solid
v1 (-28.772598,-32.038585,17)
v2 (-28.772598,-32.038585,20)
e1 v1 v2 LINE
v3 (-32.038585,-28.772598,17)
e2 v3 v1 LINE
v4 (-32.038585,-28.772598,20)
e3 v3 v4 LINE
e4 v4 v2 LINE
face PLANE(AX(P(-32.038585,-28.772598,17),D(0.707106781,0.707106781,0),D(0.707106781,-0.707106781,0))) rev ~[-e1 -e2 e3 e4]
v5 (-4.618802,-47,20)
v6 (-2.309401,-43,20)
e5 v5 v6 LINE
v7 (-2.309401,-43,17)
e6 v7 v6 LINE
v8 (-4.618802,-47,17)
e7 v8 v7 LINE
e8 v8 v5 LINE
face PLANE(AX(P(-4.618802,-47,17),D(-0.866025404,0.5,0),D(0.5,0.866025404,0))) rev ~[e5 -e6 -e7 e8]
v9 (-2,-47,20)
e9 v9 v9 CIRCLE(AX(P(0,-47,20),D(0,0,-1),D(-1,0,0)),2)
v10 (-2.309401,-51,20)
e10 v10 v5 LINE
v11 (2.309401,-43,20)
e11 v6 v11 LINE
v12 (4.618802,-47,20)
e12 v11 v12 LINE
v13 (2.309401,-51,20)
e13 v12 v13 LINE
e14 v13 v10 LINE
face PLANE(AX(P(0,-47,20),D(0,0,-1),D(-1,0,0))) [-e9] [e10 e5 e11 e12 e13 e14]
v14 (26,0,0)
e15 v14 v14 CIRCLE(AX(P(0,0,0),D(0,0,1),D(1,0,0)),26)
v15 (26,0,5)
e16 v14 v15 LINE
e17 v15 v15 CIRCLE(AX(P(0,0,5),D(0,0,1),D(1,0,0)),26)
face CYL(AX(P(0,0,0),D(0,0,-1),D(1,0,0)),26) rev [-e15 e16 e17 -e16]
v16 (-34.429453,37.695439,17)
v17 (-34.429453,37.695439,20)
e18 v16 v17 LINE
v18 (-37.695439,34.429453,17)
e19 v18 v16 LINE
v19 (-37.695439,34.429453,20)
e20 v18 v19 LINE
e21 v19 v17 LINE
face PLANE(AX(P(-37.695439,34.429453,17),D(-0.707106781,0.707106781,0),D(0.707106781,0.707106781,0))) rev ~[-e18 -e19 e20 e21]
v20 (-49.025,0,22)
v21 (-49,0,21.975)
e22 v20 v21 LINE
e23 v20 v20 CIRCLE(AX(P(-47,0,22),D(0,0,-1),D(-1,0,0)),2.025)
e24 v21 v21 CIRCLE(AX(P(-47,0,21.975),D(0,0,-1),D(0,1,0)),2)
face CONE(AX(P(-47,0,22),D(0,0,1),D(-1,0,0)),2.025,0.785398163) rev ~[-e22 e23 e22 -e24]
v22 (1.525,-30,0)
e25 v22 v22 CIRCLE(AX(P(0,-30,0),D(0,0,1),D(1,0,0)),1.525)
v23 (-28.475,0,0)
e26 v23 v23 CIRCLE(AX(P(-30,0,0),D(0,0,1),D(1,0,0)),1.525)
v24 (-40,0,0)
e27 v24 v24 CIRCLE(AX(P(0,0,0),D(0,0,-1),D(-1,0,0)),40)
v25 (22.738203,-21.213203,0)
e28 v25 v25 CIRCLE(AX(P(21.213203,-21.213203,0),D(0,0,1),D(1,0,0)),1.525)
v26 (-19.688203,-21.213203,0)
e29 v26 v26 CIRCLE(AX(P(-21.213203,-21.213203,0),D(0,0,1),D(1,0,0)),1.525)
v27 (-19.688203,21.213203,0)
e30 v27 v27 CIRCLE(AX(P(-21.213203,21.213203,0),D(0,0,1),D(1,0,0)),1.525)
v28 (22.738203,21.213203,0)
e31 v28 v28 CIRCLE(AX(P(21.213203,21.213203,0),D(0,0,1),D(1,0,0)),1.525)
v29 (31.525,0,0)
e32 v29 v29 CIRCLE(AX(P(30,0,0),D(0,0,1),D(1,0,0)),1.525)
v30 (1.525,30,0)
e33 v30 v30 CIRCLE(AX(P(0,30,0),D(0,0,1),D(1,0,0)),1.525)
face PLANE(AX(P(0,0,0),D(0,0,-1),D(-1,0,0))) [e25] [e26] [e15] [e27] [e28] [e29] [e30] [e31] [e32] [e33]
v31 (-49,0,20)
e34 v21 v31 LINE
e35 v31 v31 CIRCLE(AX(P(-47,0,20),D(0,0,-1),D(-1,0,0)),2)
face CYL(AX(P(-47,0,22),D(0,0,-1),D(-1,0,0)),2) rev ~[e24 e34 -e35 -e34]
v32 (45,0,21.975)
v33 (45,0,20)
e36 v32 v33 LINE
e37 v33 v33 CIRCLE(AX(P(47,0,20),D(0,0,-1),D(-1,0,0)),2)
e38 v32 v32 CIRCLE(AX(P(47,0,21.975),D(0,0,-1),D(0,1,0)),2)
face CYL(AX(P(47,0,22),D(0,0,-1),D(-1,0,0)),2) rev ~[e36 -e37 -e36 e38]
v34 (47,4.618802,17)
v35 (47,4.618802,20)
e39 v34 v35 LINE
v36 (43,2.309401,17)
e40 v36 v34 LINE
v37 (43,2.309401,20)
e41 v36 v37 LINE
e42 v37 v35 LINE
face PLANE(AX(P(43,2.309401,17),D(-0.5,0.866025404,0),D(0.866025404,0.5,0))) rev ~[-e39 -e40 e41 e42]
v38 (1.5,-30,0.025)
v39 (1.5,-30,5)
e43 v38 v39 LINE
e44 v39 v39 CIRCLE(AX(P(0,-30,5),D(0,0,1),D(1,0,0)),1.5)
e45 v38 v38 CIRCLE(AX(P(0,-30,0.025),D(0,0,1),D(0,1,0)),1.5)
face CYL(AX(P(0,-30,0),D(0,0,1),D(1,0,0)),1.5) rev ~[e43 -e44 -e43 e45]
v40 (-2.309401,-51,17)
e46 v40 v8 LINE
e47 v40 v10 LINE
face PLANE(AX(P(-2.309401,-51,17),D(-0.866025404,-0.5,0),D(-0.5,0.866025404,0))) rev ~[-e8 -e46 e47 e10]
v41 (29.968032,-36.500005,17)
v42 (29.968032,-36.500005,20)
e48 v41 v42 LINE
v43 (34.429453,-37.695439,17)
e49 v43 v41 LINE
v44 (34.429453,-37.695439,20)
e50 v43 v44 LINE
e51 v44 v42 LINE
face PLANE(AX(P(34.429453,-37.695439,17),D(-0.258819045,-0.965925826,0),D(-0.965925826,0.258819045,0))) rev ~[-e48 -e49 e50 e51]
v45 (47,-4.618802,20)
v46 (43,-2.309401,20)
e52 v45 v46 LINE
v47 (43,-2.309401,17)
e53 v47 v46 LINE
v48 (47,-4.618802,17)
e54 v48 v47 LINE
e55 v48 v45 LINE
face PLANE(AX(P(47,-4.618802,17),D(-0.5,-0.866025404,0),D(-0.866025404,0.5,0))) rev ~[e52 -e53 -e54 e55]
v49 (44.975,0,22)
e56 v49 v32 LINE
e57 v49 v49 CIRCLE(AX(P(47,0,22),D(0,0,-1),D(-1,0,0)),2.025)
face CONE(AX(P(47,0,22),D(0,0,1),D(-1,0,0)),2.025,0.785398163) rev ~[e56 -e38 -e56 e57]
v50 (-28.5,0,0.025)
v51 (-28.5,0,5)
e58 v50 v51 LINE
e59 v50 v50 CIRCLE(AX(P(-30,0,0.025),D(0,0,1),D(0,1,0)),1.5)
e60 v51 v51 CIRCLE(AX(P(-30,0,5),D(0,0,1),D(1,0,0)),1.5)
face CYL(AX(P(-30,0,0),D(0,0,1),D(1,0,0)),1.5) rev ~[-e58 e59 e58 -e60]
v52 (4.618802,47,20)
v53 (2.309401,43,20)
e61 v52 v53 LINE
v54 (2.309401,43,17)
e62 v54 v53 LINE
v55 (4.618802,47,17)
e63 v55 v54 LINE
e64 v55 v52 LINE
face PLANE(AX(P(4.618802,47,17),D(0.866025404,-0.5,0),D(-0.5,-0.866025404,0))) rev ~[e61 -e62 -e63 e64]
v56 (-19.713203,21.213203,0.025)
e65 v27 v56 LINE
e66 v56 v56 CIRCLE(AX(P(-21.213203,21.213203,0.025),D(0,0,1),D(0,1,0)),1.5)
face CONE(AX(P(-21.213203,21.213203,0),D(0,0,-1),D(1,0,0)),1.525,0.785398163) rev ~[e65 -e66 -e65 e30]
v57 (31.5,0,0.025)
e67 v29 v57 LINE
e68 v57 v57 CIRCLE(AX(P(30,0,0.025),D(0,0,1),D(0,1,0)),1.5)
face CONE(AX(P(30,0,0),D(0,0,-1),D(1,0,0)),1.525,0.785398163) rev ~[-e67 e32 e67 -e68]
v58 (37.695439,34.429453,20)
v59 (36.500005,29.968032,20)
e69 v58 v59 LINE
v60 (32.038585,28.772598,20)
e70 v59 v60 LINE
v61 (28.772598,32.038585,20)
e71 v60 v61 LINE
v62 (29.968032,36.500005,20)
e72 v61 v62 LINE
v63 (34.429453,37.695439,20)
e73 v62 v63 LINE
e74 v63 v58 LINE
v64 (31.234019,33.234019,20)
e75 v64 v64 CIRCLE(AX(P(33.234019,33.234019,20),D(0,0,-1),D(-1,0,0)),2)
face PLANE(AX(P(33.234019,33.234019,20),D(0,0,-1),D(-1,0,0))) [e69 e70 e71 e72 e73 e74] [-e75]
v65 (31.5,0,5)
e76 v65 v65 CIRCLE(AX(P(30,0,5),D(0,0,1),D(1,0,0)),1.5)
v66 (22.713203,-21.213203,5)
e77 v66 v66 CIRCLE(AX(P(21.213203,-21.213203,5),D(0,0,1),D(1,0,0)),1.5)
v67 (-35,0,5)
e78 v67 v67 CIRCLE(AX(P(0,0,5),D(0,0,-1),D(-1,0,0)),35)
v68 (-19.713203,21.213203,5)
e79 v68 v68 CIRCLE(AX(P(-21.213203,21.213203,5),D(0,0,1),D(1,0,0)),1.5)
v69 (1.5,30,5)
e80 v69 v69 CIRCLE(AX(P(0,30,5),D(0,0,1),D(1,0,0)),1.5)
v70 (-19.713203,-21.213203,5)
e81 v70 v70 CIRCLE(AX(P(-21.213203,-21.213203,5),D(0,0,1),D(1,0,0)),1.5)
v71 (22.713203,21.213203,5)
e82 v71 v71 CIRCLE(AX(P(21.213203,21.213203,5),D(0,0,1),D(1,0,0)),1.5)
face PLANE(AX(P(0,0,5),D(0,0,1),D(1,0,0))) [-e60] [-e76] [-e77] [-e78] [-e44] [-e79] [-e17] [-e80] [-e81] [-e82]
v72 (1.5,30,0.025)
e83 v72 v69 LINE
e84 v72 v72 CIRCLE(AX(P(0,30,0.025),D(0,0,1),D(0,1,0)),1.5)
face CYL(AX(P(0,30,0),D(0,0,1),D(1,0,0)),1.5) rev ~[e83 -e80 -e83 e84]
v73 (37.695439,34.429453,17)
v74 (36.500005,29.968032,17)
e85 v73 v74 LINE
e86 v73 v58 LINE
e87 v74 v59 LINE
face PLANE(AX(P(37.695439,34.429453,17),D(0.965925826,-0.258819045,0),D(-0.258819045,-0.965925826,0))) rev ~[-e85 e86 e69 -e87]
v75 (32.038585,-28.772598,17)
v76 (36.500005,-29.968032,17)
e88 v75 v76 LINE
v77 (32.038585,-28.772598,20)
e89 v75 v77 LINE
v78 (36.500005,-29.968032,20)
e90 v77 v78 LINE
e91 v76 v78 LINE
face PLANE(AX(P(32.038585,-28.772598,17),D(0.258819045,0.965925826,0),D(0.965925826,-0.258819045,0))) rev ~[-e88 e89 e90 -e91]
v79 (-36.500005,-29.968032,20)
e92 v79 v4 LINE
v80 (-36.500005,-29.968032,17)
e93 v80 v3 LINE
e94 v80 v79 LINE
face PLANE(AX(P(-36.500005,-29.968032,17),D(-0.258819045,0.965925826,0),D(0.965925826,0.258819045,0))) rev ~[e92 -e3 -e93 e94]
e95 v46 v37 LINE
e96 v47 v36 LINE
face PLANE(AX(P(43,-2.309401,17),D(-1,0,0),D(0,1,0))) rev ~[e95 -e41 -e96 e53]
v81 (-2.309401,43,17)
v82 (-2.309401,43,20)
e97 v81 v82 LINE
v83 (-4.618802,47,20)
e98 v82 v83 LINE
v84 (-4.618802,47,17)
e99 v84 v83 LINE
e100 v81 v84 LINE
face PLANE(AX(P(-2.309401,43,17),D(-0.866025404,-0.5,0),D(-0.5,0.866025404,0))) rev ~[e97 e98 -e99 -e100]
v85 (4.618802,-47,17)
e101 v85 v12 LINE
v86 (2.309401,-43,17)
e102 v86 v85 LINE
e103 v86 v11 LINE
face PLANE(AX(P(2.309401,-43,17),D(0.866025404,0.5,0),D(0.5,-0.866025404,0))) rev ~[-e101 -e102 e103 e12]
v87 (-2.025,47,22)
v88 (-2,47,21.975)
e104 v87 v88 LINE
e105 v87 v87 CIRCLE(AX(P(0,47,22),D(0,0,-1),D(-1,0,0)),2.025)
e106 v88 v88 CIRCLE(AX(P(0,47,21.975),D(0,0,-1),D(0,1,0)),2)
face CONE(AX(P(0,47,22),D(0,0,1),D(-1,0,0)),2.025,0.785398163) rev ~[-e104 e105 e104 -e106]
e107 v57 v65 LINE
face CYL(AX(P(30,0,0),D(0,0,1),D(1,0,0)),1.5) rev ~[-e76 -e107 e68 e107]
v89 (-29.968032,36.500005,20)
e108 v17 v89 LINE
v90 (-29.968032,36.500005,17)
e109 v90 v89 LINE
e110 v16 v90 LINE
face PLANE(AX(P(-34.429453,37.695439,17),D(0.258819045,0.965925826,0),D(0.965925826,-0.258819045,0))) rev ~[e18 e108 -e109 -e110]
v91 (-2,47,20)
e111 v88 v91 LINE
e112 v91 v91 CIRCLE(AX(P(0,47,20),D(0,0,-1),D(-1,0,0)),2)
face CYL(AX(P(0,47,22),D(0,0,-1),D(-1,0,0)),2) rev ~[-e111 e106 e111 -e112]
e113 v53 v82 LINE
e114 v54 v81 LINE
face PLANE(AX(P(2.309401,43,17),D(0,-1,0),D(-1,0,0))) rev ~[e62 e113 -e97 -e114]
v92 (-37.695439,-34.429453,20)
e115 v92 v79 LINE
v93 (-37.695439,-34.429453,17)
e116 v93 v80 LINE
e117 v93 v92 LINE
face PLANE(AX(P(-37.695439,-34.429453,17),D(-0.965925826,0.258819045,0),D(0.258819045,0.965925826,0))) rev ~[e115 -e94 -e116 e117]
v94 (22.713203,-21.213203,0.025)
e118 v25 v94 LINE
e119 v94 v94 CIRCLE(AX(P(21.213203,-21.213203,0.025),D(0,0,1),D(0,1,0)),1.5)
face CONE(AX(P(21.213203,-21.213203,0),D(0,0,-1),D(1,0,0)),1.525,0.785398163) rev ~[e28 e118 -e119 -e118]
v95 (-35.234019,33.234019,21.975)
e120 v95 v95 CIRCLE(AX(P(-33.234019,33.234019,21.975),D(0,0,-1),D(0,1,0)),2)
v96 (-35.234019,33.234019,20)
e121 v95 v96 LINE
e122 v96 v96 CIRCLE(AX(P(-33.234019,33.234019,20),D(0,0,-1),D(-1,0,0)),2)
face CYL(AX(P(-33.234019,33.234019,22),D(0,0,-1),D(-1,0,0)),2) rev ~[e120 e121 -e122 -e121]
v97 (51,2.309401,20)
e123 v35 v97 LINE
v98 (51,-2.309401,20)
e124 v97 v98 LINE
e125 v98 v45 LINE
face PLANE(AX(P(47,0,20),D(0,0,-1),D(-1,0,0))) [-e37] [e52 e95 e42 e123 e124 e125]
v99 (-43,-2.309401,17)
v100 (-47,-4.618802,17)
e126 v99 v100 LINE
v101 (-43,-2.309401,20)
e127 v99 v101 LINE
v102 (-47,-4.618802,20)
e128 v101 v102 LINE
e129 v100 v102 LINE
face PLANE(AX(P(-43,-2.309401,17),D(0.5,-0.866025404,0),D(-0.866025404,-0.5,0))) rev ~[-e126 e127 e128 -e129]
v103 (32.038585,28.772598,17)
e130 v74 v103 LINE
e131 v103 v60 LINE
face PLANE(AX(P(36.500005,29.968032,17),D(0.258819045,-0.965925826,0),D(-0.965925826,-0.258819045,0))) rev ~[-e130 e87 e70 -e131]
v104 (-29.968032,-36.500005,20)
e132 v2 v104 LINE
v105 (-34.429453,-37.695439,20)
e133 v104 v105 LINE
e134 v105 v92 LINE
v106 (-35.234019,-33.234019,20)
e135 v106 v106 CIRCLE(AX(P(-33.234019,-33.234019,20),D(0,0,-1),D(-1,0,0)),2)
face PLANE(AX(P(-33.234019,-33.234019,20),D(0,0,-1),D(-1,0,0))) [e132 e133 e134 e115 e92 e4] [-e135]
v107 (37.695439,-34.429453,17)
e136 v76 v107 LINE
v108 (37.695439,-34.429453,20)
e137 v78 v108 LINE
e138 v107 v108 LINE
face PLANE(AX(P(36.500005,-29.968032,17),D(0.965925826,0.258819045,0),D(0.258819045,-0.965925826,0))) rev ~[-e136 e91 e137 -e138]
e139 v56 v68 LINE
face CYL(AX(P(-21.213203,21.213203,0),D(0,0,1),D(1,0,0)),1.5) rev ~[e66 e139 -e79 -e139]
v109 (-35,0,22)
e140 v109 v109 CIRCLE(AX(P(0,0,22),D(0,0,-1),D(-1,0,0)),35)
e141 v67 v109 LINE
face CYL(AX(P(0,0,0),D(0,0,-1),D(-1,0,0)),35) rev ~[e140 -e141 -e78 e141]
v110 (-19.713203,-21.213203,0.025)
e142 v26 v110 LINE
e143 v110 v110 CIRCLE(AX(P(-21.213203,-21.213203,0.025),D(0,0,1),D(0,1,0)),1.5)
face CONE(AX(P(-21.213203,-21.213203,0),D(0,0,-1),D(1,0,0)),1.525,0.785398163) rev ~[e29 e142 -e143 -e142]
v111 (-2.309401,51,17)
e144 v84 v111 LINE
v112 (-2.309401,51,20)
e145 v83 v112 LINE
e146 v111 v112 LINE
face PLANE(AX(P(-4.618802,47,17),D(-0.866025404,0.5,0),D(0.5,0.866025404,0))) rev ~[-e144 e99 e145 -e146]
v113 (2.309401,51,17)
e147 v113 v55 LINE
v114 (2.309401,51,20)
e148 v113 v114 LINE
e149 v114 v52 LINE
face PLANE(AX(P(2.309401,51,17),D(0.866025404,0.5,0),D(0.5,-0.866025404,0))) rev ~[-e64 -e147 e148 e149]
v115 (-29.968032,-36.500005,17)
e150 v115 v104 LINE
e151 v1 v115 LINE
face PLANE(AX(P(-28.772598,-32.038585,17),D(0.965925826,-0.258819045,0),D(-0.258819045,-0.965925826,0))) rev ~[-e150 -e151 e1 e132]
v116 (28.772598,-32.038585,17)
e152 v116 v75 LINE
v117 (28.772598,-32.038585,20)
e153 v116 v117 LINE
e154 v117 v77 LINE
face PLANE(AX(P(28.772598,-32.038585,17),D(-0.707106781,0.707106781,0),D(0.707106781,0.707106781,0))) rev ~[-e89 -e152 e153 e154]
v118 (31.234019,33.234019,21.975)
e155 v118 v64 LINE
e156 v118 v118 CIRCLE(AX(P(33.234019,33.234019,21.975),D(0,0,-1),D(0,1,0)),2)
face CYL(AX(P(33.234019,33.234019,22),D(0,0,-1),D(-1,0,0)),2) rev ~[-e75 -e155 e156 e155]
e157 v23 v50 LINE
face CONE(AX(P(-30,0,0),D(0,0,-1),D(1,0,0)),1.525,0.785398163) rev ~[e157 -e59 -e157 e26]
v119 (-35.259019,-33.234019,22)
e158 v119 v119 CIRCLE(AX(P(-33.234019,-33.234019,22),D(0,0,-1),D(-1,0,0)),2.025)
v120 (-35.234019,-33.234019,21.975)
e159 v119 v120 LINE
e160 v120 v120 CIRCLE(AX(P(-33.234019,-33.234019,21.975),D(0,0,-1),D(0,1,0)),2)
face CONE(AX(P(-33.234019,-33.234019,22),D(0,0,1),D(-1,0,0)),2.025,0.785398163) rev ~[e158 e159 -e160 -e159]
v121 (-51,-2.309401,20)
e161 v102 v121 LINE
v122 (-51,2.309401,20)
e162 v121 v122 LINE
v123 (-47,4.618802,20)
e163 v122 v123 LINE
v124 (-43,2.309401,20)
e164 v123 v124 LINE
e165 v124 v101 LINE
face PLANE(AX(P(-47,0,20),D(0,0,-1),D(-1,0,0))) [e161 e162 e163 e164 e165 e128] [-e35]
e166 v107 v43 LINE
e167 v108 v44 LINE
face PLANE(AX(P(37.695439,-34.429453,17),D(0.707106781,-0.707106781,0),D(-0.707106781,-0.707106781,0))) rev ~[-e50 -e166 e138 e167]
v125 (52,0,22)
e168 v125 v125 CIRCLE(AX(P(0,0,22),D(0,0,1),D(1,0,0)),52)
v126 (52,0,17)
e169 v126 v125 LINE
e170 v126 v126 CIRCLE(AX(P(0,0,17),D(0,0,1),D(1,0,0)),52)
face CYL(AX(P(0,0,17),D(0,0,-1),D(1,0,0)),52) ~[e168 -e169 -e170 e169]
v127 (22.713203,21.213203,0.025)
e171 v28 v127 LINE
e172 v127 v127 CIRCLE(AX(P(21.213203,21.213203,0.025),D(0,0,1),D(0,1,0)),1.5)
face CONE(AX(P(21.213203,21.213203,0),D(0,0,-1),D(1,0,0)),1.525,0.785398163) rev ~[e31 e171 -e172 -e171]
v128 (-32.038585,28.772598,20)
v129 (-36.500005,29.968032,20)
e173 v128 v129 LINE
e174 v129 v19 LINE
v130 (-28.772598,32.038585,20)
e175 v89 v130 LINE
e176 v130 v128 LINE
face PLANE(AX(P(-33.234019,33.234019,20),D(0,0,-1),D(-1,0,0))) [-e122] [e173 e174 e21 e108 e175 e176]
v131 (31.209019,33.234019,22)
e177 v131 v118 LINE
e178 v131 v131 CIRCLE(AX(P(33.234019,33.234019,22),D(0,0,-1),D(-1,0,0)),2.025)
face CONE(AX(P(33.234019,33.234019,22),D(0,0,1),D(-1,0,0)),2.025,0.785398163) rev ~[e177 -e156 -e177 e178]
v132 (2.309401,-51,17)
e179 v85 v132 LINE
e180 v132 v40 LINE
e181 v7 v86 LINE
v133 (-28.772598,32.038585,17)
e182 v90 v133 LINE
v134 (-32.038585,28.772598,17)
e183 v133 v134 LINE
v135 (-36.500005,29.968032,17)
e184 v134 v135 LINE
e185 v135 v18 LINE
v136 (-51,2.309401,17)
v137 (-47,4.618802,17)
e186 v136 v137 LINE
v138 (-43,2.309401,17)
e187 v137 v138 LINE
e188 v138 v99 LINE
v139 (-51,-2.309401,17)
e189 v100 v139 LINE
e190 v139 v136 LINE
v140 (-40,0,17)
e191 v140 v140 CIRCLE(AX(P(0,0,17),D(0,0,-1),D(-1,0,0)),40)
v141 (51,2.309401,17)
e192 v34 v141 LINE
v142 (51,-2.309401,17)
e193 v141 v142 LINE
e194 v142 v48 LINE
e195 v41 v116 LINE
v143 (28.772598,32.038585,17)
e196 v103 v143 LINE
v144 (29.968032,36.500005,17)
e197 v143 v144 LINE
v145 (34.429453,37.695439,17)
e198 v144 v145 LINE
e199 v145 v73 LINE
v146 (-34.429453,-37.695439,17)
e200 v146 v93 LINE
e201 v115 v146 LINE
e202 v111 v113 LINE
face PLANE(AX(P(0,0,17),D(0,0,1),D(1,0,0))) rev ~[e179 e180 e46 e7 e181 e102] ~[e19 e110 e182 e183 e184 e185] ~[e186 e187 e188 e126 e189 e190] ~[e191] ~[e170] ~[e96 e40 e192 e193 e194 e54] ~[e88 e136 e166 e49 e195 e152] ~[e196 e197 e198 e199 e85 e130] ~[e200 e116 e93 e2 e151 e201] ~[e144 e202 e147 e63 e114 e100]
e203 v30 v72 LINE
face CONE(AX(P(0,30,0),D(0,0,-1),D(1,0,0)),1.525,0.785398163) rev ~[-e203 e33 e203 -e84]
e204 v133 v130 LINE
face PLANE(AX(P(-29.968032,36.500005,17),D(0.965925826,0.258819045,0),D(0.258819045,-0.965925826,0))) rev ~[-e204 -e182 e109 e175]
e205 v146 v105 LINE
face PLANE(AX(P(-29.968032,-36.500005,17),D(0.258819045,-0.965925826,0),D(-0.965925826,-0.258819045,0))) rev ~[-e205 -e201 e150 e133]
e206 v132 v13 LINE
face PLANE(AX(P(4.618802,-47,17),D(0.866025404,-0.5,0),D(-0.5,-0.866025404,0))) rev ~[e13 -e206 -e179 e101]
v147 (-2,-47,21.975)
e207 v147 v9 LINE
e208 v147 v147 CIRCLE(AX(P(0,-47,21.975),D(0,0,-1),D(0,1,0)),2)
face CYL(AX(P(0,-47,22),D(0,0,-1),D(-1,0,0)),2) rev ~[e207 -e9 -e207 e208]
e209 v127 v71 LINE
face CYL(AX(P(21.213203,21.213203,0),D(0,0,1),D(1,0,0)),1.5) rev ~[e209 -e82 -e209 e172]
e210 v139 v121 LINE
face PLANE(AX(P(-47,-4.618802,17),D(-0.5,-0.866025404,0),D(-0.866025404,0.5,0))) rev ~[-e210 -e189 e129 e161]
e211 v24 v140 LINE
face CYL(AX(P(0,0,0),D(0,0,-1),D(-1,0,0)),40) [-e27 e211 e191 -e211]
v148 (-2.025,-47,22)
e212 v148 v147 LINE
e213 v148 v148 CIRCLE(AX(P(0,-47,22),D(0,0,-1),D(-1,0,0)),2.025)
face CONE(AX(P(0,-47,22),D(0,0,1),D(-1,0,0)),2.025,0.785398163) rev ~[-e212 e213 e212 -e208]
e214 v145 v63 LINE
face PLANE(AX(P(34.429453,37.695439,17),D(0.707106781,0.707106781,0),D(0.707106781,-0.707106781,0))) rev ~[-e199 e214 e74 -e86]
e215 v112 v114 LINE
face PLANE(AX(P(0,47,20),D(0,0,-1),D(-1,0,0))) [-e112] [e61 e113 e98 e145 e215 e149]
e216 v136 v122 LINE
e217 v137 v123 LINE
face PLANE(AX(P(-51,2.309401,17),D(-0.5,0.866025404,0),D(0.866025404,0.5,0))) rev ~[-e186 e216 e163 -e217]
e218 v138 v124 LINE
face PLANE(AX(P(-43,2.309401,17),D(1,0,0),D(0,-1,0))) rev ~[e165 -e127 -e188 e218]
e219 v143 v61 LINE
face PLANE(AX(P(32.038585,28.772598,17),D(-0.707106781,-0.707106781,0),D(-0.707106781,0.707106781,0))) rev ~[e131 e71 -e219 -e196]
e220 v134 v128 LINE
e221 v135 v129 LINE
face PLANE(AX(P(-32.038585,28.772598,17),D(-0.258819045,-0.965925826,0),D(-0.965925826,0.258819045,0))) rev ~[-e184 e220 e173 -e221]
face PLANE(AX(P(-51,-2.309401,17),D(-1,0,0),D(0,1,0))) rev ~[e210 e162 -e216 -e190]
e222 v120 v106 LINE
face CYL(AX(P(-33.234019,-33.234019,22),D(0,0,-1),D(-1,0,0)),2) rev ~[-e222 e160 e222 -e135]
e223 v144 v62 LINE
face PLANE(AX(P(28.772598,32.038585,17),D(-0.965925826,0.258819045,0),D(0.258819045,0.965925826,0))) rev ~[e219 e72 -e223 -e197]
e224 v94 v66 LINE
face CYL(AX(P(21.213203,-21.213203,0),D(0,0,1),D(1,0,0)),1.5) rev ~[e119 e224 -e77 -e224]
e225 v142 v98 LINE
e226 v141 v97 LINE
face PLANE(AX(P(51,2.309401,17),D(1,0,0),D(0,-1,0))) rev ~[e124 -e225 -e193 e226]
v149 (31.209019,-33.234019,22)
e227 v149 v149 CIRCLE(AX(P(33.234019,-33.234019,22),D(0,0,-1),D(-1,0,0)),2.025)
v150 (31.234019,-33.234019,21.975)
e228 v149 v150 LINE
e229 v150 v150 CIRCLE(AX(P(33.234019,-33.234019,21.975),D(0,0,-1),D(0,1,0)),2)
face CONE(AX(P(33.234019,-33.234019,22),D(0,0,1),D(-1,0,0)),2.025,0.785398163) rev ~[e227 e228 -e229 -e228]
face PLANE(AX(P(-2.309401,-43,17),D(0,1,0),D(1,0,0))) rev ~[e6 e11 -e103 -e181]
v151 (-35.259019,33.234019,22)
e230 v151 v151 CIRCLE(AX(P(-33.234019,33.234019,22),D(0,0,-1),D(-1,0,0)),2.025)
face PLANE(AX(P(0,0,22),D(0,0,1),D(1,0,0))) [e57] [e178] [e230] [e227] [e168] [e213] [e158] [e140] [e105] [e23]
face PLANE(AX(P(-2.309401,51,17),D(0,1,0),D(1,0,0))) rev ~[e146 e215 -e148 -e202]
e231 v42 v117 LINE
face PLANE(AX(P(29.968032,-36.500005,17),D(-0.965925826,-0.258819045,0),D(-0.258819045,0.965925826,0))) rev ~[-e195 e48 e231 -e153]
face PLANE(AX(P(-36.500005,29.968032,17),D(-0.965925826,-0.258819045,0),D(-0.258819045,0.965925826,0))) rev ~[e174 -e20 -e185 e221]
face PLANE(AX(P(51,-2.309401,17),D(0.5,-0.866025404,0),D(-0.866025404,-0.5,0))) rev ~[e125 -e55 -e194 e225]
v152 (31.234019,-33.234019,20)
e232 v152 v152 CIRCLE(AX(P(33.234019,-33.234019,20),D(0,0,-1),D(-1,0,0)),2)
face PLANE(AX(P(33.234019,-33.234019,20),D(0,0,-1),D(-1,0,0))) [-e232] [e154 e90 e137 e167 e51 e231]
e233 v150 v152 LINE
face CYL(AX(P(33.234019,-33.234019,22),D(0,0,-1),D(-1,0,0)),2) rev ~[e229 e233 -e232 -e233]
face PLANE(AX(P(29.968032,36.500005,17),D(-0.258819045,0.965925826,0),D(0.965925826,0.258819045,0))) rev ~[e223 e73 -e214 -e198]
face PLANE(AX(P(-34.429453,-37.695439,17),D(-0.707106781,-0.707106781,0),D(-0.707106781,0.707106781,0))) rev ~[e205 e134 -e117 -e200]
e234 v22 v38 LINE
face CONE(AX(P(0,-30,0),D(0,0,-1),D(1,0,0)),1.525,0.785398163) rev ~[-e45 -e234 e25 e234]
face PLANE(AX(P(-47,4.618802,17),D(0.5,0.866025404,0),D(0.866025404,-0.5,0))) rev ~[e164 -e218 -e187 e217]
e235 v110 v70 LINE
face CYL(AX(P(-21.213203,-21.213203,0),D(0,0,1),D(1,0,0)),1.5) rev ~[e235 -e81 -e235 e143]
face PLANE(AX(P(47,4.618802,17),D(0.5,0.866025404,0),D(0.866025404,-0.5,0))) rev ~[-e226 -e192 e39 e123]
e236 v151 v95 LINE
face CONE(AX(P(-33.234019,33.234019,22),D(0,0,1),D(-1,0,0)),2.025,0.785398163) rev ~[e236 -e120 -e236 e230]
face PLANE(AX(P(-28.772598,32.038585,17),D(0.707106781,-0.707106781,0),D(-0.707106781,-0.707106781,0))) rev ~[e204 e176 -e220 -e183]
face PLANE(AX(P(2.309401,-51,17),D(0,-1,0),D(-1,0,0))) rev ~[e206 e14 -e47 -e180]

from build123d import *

# Parameters (mm, degrees)
SKETCH1_R                       = 35
SKETCH1_R_2                     = 26
BOSS_EXTRUDE1_DEPTH             = 5
F_3_0MM_DOWEL_HOLE1_D           = 3
F_3_0MM_DOWEL_HOLE1_CSINK_D     = 3.05
F_3_0MM_DOWEL_HOLE1_CSINK_ANGLE = 90
SKETCH5_R                       = 40
SKETCH5_R_2                     = 35
BOSS_EXTRUDE2_DEPTH             = 22
BOSS_EXTRUDE3_START             = -5
SKETCH6_R                       = 52
SKETCH6_R_2                     = 35
BOSS_EXTRUDE3_DEPTH             = 5
F_4_0MM_DOWEL_HOLE2_D           = 4
F_4_0MM_DOWEL_HOLE2_CSINK_D     = 4.05
F_4_0MM_DOWEL_HOLE2_CSINK_ANGLE = 90
CUT_EXTRUDE1_DEPTH              = 3


with BuildPart() as part:
    # Sketch1 → Boss-Extrude1 (new body)
    with BuildSketch(Plane.XY):
        Circle(SKETCH1_R)
        Circle(SKETCH1_R_2, mode=Mode.SUBTRACT)
    extrude(amount=BOSS_EXTRUDE1_DEPTH)

    # Ø3.0mm Dowel Hole1 (through all)
    with Locations(Plane(origin=(0, 0, 0), x_dir=(-1, 0, 0), z_dir=(0, 0, -1))):
        with Locations((21.213203436, 21.213203436), (0, 30), (-21.213203436, 21.213203436), (-30, 0), (-21.213203436, -21.213203436), (0, -30), (21.213203436, -21.213203436), (30, 0)):
            CounterSinkHole(F_3_0MM_DOWEL_HOLE1_D / 2, F_3_0MM_DOWEL_HOLE1_CSINK_D / 2, counter_sink_angle=F_3_0MM_DOWEL_HOLE1_CSINK_ANGLE)

    # Sketch5 → Boss-Extrude2 (add)
    with BuildSketch(Plane(origin=(0, 0, 0), x_dir=(-1, 0, 0), z_dir=(0, 0, -1))):
        Circle(SKETCH5_R)
        Circle(SKETCH5_R_2, mode=Mode.SUBTRACT)
    extrude(amount=-BOSS_EXTRUDE2_DEPTH)

    # Sketch6 → Boss-Extrude3 (add)
    with BuildSketch(Plane.XY.offset(22).offset(BOSS_EXTRUDE3_START)):
        Circle(SKETCH6_R)
        with Locations(Location((0, 0, 0), (0, 0, 180))):
            Circle(SKETCH6_R_2, mode=Mode.SUBTRACT)
    extrude(amount=BOSS_EXTRUDE3_DEPTH)

    # Ø4.0mm Dowel Hole2 (through all)
    with Locations(Plane.XY.offset(22)):
        with Locations((0, 47), (-33.234018716, 33.234018716), (-47, 0), (-33.234018716, -33.234018716), (0, -47), (33.234018716, -33.234018716), (47, 0), (33.234018716, 33.234018716)):
            CounterSinkHole(F_4_0MM_DOWEL_HOLE2_D / 2, F_4_0MM_DOWEL_HOLE2_CSINK_D / 2, counter_sink_angle=F_4_0MM_DOWEL_HOLE2_CSINK_ANGLE)

    # Sketch10 → Cut-Extrude1 (cut)
    with BuildSketch(Plane(origin=(0, 0, 17), x_dir=(-1, 0, 0), z_dir=(0, 0, -1))):
        Polygon((36.500005039, 29.968032392), (37.695439002, 34.429452679), (34.429452679, 37.695439002), (29.968032392, 36.500005039), (28.772598429, 32.038584753), (32.038584753, 28.772598429), align=None)
        Polygon((4.618802154, 47), (2.309401077, 51), (-2.309401077, 51), (-4.618802154, 47), (-2.309401077, 43), (2.309401077, 43), align=None)
        Polygon((47, -4.618802154), (51, -2.309401077), (51, 2.309401077), (47, 4.618802154), (43, 2.309401077), (43, -2.309401077), align=None)
        Polygon((29.968032392, -36.500005039), (34.429452679, -37.695439002), (37.695439002, -34.429452679), (36.500005039, -29.968032392), (32.038584753, -28.772598429), (28.772598429, -32.038584753), align=None)
        Polygon((-4.618802154, -47), (-2.309401077, -51), (2.309401077, -51), (4.618802154, -47), (2.309401077, -43), (-2.309401077, -43), align=None)
        Polygon((-36.500005039, -29.968032392), (-37.695439002, -34.429452679), (-34.429452679, -37.695439002), (-29.968032392, -36.500005039), (-28.772598429, -32.038584753), (-32.038584753, -28.772598429), align=None)
        Polygon((-47, 4.618802154), (-51, 2.309401077), (-51, -2.309401077), (-47, -4.618802154), (-43, -2.309401077), (-43, 2.309401077), align=None)
        Polygon((-29.968032392, 36.500005039), (-34.429452679, 37.695439002), (-37.695439002, 34.429452679), (-36.500005039, 29.968032392), (-32.038584753, 28.772598429), (-28.772598429, 32.038584753), align=None)
    extrude(amount=-CUT_EXTRUDE1_DEPTH, mode=Mode.SUBTRACT)


solid = part.part
